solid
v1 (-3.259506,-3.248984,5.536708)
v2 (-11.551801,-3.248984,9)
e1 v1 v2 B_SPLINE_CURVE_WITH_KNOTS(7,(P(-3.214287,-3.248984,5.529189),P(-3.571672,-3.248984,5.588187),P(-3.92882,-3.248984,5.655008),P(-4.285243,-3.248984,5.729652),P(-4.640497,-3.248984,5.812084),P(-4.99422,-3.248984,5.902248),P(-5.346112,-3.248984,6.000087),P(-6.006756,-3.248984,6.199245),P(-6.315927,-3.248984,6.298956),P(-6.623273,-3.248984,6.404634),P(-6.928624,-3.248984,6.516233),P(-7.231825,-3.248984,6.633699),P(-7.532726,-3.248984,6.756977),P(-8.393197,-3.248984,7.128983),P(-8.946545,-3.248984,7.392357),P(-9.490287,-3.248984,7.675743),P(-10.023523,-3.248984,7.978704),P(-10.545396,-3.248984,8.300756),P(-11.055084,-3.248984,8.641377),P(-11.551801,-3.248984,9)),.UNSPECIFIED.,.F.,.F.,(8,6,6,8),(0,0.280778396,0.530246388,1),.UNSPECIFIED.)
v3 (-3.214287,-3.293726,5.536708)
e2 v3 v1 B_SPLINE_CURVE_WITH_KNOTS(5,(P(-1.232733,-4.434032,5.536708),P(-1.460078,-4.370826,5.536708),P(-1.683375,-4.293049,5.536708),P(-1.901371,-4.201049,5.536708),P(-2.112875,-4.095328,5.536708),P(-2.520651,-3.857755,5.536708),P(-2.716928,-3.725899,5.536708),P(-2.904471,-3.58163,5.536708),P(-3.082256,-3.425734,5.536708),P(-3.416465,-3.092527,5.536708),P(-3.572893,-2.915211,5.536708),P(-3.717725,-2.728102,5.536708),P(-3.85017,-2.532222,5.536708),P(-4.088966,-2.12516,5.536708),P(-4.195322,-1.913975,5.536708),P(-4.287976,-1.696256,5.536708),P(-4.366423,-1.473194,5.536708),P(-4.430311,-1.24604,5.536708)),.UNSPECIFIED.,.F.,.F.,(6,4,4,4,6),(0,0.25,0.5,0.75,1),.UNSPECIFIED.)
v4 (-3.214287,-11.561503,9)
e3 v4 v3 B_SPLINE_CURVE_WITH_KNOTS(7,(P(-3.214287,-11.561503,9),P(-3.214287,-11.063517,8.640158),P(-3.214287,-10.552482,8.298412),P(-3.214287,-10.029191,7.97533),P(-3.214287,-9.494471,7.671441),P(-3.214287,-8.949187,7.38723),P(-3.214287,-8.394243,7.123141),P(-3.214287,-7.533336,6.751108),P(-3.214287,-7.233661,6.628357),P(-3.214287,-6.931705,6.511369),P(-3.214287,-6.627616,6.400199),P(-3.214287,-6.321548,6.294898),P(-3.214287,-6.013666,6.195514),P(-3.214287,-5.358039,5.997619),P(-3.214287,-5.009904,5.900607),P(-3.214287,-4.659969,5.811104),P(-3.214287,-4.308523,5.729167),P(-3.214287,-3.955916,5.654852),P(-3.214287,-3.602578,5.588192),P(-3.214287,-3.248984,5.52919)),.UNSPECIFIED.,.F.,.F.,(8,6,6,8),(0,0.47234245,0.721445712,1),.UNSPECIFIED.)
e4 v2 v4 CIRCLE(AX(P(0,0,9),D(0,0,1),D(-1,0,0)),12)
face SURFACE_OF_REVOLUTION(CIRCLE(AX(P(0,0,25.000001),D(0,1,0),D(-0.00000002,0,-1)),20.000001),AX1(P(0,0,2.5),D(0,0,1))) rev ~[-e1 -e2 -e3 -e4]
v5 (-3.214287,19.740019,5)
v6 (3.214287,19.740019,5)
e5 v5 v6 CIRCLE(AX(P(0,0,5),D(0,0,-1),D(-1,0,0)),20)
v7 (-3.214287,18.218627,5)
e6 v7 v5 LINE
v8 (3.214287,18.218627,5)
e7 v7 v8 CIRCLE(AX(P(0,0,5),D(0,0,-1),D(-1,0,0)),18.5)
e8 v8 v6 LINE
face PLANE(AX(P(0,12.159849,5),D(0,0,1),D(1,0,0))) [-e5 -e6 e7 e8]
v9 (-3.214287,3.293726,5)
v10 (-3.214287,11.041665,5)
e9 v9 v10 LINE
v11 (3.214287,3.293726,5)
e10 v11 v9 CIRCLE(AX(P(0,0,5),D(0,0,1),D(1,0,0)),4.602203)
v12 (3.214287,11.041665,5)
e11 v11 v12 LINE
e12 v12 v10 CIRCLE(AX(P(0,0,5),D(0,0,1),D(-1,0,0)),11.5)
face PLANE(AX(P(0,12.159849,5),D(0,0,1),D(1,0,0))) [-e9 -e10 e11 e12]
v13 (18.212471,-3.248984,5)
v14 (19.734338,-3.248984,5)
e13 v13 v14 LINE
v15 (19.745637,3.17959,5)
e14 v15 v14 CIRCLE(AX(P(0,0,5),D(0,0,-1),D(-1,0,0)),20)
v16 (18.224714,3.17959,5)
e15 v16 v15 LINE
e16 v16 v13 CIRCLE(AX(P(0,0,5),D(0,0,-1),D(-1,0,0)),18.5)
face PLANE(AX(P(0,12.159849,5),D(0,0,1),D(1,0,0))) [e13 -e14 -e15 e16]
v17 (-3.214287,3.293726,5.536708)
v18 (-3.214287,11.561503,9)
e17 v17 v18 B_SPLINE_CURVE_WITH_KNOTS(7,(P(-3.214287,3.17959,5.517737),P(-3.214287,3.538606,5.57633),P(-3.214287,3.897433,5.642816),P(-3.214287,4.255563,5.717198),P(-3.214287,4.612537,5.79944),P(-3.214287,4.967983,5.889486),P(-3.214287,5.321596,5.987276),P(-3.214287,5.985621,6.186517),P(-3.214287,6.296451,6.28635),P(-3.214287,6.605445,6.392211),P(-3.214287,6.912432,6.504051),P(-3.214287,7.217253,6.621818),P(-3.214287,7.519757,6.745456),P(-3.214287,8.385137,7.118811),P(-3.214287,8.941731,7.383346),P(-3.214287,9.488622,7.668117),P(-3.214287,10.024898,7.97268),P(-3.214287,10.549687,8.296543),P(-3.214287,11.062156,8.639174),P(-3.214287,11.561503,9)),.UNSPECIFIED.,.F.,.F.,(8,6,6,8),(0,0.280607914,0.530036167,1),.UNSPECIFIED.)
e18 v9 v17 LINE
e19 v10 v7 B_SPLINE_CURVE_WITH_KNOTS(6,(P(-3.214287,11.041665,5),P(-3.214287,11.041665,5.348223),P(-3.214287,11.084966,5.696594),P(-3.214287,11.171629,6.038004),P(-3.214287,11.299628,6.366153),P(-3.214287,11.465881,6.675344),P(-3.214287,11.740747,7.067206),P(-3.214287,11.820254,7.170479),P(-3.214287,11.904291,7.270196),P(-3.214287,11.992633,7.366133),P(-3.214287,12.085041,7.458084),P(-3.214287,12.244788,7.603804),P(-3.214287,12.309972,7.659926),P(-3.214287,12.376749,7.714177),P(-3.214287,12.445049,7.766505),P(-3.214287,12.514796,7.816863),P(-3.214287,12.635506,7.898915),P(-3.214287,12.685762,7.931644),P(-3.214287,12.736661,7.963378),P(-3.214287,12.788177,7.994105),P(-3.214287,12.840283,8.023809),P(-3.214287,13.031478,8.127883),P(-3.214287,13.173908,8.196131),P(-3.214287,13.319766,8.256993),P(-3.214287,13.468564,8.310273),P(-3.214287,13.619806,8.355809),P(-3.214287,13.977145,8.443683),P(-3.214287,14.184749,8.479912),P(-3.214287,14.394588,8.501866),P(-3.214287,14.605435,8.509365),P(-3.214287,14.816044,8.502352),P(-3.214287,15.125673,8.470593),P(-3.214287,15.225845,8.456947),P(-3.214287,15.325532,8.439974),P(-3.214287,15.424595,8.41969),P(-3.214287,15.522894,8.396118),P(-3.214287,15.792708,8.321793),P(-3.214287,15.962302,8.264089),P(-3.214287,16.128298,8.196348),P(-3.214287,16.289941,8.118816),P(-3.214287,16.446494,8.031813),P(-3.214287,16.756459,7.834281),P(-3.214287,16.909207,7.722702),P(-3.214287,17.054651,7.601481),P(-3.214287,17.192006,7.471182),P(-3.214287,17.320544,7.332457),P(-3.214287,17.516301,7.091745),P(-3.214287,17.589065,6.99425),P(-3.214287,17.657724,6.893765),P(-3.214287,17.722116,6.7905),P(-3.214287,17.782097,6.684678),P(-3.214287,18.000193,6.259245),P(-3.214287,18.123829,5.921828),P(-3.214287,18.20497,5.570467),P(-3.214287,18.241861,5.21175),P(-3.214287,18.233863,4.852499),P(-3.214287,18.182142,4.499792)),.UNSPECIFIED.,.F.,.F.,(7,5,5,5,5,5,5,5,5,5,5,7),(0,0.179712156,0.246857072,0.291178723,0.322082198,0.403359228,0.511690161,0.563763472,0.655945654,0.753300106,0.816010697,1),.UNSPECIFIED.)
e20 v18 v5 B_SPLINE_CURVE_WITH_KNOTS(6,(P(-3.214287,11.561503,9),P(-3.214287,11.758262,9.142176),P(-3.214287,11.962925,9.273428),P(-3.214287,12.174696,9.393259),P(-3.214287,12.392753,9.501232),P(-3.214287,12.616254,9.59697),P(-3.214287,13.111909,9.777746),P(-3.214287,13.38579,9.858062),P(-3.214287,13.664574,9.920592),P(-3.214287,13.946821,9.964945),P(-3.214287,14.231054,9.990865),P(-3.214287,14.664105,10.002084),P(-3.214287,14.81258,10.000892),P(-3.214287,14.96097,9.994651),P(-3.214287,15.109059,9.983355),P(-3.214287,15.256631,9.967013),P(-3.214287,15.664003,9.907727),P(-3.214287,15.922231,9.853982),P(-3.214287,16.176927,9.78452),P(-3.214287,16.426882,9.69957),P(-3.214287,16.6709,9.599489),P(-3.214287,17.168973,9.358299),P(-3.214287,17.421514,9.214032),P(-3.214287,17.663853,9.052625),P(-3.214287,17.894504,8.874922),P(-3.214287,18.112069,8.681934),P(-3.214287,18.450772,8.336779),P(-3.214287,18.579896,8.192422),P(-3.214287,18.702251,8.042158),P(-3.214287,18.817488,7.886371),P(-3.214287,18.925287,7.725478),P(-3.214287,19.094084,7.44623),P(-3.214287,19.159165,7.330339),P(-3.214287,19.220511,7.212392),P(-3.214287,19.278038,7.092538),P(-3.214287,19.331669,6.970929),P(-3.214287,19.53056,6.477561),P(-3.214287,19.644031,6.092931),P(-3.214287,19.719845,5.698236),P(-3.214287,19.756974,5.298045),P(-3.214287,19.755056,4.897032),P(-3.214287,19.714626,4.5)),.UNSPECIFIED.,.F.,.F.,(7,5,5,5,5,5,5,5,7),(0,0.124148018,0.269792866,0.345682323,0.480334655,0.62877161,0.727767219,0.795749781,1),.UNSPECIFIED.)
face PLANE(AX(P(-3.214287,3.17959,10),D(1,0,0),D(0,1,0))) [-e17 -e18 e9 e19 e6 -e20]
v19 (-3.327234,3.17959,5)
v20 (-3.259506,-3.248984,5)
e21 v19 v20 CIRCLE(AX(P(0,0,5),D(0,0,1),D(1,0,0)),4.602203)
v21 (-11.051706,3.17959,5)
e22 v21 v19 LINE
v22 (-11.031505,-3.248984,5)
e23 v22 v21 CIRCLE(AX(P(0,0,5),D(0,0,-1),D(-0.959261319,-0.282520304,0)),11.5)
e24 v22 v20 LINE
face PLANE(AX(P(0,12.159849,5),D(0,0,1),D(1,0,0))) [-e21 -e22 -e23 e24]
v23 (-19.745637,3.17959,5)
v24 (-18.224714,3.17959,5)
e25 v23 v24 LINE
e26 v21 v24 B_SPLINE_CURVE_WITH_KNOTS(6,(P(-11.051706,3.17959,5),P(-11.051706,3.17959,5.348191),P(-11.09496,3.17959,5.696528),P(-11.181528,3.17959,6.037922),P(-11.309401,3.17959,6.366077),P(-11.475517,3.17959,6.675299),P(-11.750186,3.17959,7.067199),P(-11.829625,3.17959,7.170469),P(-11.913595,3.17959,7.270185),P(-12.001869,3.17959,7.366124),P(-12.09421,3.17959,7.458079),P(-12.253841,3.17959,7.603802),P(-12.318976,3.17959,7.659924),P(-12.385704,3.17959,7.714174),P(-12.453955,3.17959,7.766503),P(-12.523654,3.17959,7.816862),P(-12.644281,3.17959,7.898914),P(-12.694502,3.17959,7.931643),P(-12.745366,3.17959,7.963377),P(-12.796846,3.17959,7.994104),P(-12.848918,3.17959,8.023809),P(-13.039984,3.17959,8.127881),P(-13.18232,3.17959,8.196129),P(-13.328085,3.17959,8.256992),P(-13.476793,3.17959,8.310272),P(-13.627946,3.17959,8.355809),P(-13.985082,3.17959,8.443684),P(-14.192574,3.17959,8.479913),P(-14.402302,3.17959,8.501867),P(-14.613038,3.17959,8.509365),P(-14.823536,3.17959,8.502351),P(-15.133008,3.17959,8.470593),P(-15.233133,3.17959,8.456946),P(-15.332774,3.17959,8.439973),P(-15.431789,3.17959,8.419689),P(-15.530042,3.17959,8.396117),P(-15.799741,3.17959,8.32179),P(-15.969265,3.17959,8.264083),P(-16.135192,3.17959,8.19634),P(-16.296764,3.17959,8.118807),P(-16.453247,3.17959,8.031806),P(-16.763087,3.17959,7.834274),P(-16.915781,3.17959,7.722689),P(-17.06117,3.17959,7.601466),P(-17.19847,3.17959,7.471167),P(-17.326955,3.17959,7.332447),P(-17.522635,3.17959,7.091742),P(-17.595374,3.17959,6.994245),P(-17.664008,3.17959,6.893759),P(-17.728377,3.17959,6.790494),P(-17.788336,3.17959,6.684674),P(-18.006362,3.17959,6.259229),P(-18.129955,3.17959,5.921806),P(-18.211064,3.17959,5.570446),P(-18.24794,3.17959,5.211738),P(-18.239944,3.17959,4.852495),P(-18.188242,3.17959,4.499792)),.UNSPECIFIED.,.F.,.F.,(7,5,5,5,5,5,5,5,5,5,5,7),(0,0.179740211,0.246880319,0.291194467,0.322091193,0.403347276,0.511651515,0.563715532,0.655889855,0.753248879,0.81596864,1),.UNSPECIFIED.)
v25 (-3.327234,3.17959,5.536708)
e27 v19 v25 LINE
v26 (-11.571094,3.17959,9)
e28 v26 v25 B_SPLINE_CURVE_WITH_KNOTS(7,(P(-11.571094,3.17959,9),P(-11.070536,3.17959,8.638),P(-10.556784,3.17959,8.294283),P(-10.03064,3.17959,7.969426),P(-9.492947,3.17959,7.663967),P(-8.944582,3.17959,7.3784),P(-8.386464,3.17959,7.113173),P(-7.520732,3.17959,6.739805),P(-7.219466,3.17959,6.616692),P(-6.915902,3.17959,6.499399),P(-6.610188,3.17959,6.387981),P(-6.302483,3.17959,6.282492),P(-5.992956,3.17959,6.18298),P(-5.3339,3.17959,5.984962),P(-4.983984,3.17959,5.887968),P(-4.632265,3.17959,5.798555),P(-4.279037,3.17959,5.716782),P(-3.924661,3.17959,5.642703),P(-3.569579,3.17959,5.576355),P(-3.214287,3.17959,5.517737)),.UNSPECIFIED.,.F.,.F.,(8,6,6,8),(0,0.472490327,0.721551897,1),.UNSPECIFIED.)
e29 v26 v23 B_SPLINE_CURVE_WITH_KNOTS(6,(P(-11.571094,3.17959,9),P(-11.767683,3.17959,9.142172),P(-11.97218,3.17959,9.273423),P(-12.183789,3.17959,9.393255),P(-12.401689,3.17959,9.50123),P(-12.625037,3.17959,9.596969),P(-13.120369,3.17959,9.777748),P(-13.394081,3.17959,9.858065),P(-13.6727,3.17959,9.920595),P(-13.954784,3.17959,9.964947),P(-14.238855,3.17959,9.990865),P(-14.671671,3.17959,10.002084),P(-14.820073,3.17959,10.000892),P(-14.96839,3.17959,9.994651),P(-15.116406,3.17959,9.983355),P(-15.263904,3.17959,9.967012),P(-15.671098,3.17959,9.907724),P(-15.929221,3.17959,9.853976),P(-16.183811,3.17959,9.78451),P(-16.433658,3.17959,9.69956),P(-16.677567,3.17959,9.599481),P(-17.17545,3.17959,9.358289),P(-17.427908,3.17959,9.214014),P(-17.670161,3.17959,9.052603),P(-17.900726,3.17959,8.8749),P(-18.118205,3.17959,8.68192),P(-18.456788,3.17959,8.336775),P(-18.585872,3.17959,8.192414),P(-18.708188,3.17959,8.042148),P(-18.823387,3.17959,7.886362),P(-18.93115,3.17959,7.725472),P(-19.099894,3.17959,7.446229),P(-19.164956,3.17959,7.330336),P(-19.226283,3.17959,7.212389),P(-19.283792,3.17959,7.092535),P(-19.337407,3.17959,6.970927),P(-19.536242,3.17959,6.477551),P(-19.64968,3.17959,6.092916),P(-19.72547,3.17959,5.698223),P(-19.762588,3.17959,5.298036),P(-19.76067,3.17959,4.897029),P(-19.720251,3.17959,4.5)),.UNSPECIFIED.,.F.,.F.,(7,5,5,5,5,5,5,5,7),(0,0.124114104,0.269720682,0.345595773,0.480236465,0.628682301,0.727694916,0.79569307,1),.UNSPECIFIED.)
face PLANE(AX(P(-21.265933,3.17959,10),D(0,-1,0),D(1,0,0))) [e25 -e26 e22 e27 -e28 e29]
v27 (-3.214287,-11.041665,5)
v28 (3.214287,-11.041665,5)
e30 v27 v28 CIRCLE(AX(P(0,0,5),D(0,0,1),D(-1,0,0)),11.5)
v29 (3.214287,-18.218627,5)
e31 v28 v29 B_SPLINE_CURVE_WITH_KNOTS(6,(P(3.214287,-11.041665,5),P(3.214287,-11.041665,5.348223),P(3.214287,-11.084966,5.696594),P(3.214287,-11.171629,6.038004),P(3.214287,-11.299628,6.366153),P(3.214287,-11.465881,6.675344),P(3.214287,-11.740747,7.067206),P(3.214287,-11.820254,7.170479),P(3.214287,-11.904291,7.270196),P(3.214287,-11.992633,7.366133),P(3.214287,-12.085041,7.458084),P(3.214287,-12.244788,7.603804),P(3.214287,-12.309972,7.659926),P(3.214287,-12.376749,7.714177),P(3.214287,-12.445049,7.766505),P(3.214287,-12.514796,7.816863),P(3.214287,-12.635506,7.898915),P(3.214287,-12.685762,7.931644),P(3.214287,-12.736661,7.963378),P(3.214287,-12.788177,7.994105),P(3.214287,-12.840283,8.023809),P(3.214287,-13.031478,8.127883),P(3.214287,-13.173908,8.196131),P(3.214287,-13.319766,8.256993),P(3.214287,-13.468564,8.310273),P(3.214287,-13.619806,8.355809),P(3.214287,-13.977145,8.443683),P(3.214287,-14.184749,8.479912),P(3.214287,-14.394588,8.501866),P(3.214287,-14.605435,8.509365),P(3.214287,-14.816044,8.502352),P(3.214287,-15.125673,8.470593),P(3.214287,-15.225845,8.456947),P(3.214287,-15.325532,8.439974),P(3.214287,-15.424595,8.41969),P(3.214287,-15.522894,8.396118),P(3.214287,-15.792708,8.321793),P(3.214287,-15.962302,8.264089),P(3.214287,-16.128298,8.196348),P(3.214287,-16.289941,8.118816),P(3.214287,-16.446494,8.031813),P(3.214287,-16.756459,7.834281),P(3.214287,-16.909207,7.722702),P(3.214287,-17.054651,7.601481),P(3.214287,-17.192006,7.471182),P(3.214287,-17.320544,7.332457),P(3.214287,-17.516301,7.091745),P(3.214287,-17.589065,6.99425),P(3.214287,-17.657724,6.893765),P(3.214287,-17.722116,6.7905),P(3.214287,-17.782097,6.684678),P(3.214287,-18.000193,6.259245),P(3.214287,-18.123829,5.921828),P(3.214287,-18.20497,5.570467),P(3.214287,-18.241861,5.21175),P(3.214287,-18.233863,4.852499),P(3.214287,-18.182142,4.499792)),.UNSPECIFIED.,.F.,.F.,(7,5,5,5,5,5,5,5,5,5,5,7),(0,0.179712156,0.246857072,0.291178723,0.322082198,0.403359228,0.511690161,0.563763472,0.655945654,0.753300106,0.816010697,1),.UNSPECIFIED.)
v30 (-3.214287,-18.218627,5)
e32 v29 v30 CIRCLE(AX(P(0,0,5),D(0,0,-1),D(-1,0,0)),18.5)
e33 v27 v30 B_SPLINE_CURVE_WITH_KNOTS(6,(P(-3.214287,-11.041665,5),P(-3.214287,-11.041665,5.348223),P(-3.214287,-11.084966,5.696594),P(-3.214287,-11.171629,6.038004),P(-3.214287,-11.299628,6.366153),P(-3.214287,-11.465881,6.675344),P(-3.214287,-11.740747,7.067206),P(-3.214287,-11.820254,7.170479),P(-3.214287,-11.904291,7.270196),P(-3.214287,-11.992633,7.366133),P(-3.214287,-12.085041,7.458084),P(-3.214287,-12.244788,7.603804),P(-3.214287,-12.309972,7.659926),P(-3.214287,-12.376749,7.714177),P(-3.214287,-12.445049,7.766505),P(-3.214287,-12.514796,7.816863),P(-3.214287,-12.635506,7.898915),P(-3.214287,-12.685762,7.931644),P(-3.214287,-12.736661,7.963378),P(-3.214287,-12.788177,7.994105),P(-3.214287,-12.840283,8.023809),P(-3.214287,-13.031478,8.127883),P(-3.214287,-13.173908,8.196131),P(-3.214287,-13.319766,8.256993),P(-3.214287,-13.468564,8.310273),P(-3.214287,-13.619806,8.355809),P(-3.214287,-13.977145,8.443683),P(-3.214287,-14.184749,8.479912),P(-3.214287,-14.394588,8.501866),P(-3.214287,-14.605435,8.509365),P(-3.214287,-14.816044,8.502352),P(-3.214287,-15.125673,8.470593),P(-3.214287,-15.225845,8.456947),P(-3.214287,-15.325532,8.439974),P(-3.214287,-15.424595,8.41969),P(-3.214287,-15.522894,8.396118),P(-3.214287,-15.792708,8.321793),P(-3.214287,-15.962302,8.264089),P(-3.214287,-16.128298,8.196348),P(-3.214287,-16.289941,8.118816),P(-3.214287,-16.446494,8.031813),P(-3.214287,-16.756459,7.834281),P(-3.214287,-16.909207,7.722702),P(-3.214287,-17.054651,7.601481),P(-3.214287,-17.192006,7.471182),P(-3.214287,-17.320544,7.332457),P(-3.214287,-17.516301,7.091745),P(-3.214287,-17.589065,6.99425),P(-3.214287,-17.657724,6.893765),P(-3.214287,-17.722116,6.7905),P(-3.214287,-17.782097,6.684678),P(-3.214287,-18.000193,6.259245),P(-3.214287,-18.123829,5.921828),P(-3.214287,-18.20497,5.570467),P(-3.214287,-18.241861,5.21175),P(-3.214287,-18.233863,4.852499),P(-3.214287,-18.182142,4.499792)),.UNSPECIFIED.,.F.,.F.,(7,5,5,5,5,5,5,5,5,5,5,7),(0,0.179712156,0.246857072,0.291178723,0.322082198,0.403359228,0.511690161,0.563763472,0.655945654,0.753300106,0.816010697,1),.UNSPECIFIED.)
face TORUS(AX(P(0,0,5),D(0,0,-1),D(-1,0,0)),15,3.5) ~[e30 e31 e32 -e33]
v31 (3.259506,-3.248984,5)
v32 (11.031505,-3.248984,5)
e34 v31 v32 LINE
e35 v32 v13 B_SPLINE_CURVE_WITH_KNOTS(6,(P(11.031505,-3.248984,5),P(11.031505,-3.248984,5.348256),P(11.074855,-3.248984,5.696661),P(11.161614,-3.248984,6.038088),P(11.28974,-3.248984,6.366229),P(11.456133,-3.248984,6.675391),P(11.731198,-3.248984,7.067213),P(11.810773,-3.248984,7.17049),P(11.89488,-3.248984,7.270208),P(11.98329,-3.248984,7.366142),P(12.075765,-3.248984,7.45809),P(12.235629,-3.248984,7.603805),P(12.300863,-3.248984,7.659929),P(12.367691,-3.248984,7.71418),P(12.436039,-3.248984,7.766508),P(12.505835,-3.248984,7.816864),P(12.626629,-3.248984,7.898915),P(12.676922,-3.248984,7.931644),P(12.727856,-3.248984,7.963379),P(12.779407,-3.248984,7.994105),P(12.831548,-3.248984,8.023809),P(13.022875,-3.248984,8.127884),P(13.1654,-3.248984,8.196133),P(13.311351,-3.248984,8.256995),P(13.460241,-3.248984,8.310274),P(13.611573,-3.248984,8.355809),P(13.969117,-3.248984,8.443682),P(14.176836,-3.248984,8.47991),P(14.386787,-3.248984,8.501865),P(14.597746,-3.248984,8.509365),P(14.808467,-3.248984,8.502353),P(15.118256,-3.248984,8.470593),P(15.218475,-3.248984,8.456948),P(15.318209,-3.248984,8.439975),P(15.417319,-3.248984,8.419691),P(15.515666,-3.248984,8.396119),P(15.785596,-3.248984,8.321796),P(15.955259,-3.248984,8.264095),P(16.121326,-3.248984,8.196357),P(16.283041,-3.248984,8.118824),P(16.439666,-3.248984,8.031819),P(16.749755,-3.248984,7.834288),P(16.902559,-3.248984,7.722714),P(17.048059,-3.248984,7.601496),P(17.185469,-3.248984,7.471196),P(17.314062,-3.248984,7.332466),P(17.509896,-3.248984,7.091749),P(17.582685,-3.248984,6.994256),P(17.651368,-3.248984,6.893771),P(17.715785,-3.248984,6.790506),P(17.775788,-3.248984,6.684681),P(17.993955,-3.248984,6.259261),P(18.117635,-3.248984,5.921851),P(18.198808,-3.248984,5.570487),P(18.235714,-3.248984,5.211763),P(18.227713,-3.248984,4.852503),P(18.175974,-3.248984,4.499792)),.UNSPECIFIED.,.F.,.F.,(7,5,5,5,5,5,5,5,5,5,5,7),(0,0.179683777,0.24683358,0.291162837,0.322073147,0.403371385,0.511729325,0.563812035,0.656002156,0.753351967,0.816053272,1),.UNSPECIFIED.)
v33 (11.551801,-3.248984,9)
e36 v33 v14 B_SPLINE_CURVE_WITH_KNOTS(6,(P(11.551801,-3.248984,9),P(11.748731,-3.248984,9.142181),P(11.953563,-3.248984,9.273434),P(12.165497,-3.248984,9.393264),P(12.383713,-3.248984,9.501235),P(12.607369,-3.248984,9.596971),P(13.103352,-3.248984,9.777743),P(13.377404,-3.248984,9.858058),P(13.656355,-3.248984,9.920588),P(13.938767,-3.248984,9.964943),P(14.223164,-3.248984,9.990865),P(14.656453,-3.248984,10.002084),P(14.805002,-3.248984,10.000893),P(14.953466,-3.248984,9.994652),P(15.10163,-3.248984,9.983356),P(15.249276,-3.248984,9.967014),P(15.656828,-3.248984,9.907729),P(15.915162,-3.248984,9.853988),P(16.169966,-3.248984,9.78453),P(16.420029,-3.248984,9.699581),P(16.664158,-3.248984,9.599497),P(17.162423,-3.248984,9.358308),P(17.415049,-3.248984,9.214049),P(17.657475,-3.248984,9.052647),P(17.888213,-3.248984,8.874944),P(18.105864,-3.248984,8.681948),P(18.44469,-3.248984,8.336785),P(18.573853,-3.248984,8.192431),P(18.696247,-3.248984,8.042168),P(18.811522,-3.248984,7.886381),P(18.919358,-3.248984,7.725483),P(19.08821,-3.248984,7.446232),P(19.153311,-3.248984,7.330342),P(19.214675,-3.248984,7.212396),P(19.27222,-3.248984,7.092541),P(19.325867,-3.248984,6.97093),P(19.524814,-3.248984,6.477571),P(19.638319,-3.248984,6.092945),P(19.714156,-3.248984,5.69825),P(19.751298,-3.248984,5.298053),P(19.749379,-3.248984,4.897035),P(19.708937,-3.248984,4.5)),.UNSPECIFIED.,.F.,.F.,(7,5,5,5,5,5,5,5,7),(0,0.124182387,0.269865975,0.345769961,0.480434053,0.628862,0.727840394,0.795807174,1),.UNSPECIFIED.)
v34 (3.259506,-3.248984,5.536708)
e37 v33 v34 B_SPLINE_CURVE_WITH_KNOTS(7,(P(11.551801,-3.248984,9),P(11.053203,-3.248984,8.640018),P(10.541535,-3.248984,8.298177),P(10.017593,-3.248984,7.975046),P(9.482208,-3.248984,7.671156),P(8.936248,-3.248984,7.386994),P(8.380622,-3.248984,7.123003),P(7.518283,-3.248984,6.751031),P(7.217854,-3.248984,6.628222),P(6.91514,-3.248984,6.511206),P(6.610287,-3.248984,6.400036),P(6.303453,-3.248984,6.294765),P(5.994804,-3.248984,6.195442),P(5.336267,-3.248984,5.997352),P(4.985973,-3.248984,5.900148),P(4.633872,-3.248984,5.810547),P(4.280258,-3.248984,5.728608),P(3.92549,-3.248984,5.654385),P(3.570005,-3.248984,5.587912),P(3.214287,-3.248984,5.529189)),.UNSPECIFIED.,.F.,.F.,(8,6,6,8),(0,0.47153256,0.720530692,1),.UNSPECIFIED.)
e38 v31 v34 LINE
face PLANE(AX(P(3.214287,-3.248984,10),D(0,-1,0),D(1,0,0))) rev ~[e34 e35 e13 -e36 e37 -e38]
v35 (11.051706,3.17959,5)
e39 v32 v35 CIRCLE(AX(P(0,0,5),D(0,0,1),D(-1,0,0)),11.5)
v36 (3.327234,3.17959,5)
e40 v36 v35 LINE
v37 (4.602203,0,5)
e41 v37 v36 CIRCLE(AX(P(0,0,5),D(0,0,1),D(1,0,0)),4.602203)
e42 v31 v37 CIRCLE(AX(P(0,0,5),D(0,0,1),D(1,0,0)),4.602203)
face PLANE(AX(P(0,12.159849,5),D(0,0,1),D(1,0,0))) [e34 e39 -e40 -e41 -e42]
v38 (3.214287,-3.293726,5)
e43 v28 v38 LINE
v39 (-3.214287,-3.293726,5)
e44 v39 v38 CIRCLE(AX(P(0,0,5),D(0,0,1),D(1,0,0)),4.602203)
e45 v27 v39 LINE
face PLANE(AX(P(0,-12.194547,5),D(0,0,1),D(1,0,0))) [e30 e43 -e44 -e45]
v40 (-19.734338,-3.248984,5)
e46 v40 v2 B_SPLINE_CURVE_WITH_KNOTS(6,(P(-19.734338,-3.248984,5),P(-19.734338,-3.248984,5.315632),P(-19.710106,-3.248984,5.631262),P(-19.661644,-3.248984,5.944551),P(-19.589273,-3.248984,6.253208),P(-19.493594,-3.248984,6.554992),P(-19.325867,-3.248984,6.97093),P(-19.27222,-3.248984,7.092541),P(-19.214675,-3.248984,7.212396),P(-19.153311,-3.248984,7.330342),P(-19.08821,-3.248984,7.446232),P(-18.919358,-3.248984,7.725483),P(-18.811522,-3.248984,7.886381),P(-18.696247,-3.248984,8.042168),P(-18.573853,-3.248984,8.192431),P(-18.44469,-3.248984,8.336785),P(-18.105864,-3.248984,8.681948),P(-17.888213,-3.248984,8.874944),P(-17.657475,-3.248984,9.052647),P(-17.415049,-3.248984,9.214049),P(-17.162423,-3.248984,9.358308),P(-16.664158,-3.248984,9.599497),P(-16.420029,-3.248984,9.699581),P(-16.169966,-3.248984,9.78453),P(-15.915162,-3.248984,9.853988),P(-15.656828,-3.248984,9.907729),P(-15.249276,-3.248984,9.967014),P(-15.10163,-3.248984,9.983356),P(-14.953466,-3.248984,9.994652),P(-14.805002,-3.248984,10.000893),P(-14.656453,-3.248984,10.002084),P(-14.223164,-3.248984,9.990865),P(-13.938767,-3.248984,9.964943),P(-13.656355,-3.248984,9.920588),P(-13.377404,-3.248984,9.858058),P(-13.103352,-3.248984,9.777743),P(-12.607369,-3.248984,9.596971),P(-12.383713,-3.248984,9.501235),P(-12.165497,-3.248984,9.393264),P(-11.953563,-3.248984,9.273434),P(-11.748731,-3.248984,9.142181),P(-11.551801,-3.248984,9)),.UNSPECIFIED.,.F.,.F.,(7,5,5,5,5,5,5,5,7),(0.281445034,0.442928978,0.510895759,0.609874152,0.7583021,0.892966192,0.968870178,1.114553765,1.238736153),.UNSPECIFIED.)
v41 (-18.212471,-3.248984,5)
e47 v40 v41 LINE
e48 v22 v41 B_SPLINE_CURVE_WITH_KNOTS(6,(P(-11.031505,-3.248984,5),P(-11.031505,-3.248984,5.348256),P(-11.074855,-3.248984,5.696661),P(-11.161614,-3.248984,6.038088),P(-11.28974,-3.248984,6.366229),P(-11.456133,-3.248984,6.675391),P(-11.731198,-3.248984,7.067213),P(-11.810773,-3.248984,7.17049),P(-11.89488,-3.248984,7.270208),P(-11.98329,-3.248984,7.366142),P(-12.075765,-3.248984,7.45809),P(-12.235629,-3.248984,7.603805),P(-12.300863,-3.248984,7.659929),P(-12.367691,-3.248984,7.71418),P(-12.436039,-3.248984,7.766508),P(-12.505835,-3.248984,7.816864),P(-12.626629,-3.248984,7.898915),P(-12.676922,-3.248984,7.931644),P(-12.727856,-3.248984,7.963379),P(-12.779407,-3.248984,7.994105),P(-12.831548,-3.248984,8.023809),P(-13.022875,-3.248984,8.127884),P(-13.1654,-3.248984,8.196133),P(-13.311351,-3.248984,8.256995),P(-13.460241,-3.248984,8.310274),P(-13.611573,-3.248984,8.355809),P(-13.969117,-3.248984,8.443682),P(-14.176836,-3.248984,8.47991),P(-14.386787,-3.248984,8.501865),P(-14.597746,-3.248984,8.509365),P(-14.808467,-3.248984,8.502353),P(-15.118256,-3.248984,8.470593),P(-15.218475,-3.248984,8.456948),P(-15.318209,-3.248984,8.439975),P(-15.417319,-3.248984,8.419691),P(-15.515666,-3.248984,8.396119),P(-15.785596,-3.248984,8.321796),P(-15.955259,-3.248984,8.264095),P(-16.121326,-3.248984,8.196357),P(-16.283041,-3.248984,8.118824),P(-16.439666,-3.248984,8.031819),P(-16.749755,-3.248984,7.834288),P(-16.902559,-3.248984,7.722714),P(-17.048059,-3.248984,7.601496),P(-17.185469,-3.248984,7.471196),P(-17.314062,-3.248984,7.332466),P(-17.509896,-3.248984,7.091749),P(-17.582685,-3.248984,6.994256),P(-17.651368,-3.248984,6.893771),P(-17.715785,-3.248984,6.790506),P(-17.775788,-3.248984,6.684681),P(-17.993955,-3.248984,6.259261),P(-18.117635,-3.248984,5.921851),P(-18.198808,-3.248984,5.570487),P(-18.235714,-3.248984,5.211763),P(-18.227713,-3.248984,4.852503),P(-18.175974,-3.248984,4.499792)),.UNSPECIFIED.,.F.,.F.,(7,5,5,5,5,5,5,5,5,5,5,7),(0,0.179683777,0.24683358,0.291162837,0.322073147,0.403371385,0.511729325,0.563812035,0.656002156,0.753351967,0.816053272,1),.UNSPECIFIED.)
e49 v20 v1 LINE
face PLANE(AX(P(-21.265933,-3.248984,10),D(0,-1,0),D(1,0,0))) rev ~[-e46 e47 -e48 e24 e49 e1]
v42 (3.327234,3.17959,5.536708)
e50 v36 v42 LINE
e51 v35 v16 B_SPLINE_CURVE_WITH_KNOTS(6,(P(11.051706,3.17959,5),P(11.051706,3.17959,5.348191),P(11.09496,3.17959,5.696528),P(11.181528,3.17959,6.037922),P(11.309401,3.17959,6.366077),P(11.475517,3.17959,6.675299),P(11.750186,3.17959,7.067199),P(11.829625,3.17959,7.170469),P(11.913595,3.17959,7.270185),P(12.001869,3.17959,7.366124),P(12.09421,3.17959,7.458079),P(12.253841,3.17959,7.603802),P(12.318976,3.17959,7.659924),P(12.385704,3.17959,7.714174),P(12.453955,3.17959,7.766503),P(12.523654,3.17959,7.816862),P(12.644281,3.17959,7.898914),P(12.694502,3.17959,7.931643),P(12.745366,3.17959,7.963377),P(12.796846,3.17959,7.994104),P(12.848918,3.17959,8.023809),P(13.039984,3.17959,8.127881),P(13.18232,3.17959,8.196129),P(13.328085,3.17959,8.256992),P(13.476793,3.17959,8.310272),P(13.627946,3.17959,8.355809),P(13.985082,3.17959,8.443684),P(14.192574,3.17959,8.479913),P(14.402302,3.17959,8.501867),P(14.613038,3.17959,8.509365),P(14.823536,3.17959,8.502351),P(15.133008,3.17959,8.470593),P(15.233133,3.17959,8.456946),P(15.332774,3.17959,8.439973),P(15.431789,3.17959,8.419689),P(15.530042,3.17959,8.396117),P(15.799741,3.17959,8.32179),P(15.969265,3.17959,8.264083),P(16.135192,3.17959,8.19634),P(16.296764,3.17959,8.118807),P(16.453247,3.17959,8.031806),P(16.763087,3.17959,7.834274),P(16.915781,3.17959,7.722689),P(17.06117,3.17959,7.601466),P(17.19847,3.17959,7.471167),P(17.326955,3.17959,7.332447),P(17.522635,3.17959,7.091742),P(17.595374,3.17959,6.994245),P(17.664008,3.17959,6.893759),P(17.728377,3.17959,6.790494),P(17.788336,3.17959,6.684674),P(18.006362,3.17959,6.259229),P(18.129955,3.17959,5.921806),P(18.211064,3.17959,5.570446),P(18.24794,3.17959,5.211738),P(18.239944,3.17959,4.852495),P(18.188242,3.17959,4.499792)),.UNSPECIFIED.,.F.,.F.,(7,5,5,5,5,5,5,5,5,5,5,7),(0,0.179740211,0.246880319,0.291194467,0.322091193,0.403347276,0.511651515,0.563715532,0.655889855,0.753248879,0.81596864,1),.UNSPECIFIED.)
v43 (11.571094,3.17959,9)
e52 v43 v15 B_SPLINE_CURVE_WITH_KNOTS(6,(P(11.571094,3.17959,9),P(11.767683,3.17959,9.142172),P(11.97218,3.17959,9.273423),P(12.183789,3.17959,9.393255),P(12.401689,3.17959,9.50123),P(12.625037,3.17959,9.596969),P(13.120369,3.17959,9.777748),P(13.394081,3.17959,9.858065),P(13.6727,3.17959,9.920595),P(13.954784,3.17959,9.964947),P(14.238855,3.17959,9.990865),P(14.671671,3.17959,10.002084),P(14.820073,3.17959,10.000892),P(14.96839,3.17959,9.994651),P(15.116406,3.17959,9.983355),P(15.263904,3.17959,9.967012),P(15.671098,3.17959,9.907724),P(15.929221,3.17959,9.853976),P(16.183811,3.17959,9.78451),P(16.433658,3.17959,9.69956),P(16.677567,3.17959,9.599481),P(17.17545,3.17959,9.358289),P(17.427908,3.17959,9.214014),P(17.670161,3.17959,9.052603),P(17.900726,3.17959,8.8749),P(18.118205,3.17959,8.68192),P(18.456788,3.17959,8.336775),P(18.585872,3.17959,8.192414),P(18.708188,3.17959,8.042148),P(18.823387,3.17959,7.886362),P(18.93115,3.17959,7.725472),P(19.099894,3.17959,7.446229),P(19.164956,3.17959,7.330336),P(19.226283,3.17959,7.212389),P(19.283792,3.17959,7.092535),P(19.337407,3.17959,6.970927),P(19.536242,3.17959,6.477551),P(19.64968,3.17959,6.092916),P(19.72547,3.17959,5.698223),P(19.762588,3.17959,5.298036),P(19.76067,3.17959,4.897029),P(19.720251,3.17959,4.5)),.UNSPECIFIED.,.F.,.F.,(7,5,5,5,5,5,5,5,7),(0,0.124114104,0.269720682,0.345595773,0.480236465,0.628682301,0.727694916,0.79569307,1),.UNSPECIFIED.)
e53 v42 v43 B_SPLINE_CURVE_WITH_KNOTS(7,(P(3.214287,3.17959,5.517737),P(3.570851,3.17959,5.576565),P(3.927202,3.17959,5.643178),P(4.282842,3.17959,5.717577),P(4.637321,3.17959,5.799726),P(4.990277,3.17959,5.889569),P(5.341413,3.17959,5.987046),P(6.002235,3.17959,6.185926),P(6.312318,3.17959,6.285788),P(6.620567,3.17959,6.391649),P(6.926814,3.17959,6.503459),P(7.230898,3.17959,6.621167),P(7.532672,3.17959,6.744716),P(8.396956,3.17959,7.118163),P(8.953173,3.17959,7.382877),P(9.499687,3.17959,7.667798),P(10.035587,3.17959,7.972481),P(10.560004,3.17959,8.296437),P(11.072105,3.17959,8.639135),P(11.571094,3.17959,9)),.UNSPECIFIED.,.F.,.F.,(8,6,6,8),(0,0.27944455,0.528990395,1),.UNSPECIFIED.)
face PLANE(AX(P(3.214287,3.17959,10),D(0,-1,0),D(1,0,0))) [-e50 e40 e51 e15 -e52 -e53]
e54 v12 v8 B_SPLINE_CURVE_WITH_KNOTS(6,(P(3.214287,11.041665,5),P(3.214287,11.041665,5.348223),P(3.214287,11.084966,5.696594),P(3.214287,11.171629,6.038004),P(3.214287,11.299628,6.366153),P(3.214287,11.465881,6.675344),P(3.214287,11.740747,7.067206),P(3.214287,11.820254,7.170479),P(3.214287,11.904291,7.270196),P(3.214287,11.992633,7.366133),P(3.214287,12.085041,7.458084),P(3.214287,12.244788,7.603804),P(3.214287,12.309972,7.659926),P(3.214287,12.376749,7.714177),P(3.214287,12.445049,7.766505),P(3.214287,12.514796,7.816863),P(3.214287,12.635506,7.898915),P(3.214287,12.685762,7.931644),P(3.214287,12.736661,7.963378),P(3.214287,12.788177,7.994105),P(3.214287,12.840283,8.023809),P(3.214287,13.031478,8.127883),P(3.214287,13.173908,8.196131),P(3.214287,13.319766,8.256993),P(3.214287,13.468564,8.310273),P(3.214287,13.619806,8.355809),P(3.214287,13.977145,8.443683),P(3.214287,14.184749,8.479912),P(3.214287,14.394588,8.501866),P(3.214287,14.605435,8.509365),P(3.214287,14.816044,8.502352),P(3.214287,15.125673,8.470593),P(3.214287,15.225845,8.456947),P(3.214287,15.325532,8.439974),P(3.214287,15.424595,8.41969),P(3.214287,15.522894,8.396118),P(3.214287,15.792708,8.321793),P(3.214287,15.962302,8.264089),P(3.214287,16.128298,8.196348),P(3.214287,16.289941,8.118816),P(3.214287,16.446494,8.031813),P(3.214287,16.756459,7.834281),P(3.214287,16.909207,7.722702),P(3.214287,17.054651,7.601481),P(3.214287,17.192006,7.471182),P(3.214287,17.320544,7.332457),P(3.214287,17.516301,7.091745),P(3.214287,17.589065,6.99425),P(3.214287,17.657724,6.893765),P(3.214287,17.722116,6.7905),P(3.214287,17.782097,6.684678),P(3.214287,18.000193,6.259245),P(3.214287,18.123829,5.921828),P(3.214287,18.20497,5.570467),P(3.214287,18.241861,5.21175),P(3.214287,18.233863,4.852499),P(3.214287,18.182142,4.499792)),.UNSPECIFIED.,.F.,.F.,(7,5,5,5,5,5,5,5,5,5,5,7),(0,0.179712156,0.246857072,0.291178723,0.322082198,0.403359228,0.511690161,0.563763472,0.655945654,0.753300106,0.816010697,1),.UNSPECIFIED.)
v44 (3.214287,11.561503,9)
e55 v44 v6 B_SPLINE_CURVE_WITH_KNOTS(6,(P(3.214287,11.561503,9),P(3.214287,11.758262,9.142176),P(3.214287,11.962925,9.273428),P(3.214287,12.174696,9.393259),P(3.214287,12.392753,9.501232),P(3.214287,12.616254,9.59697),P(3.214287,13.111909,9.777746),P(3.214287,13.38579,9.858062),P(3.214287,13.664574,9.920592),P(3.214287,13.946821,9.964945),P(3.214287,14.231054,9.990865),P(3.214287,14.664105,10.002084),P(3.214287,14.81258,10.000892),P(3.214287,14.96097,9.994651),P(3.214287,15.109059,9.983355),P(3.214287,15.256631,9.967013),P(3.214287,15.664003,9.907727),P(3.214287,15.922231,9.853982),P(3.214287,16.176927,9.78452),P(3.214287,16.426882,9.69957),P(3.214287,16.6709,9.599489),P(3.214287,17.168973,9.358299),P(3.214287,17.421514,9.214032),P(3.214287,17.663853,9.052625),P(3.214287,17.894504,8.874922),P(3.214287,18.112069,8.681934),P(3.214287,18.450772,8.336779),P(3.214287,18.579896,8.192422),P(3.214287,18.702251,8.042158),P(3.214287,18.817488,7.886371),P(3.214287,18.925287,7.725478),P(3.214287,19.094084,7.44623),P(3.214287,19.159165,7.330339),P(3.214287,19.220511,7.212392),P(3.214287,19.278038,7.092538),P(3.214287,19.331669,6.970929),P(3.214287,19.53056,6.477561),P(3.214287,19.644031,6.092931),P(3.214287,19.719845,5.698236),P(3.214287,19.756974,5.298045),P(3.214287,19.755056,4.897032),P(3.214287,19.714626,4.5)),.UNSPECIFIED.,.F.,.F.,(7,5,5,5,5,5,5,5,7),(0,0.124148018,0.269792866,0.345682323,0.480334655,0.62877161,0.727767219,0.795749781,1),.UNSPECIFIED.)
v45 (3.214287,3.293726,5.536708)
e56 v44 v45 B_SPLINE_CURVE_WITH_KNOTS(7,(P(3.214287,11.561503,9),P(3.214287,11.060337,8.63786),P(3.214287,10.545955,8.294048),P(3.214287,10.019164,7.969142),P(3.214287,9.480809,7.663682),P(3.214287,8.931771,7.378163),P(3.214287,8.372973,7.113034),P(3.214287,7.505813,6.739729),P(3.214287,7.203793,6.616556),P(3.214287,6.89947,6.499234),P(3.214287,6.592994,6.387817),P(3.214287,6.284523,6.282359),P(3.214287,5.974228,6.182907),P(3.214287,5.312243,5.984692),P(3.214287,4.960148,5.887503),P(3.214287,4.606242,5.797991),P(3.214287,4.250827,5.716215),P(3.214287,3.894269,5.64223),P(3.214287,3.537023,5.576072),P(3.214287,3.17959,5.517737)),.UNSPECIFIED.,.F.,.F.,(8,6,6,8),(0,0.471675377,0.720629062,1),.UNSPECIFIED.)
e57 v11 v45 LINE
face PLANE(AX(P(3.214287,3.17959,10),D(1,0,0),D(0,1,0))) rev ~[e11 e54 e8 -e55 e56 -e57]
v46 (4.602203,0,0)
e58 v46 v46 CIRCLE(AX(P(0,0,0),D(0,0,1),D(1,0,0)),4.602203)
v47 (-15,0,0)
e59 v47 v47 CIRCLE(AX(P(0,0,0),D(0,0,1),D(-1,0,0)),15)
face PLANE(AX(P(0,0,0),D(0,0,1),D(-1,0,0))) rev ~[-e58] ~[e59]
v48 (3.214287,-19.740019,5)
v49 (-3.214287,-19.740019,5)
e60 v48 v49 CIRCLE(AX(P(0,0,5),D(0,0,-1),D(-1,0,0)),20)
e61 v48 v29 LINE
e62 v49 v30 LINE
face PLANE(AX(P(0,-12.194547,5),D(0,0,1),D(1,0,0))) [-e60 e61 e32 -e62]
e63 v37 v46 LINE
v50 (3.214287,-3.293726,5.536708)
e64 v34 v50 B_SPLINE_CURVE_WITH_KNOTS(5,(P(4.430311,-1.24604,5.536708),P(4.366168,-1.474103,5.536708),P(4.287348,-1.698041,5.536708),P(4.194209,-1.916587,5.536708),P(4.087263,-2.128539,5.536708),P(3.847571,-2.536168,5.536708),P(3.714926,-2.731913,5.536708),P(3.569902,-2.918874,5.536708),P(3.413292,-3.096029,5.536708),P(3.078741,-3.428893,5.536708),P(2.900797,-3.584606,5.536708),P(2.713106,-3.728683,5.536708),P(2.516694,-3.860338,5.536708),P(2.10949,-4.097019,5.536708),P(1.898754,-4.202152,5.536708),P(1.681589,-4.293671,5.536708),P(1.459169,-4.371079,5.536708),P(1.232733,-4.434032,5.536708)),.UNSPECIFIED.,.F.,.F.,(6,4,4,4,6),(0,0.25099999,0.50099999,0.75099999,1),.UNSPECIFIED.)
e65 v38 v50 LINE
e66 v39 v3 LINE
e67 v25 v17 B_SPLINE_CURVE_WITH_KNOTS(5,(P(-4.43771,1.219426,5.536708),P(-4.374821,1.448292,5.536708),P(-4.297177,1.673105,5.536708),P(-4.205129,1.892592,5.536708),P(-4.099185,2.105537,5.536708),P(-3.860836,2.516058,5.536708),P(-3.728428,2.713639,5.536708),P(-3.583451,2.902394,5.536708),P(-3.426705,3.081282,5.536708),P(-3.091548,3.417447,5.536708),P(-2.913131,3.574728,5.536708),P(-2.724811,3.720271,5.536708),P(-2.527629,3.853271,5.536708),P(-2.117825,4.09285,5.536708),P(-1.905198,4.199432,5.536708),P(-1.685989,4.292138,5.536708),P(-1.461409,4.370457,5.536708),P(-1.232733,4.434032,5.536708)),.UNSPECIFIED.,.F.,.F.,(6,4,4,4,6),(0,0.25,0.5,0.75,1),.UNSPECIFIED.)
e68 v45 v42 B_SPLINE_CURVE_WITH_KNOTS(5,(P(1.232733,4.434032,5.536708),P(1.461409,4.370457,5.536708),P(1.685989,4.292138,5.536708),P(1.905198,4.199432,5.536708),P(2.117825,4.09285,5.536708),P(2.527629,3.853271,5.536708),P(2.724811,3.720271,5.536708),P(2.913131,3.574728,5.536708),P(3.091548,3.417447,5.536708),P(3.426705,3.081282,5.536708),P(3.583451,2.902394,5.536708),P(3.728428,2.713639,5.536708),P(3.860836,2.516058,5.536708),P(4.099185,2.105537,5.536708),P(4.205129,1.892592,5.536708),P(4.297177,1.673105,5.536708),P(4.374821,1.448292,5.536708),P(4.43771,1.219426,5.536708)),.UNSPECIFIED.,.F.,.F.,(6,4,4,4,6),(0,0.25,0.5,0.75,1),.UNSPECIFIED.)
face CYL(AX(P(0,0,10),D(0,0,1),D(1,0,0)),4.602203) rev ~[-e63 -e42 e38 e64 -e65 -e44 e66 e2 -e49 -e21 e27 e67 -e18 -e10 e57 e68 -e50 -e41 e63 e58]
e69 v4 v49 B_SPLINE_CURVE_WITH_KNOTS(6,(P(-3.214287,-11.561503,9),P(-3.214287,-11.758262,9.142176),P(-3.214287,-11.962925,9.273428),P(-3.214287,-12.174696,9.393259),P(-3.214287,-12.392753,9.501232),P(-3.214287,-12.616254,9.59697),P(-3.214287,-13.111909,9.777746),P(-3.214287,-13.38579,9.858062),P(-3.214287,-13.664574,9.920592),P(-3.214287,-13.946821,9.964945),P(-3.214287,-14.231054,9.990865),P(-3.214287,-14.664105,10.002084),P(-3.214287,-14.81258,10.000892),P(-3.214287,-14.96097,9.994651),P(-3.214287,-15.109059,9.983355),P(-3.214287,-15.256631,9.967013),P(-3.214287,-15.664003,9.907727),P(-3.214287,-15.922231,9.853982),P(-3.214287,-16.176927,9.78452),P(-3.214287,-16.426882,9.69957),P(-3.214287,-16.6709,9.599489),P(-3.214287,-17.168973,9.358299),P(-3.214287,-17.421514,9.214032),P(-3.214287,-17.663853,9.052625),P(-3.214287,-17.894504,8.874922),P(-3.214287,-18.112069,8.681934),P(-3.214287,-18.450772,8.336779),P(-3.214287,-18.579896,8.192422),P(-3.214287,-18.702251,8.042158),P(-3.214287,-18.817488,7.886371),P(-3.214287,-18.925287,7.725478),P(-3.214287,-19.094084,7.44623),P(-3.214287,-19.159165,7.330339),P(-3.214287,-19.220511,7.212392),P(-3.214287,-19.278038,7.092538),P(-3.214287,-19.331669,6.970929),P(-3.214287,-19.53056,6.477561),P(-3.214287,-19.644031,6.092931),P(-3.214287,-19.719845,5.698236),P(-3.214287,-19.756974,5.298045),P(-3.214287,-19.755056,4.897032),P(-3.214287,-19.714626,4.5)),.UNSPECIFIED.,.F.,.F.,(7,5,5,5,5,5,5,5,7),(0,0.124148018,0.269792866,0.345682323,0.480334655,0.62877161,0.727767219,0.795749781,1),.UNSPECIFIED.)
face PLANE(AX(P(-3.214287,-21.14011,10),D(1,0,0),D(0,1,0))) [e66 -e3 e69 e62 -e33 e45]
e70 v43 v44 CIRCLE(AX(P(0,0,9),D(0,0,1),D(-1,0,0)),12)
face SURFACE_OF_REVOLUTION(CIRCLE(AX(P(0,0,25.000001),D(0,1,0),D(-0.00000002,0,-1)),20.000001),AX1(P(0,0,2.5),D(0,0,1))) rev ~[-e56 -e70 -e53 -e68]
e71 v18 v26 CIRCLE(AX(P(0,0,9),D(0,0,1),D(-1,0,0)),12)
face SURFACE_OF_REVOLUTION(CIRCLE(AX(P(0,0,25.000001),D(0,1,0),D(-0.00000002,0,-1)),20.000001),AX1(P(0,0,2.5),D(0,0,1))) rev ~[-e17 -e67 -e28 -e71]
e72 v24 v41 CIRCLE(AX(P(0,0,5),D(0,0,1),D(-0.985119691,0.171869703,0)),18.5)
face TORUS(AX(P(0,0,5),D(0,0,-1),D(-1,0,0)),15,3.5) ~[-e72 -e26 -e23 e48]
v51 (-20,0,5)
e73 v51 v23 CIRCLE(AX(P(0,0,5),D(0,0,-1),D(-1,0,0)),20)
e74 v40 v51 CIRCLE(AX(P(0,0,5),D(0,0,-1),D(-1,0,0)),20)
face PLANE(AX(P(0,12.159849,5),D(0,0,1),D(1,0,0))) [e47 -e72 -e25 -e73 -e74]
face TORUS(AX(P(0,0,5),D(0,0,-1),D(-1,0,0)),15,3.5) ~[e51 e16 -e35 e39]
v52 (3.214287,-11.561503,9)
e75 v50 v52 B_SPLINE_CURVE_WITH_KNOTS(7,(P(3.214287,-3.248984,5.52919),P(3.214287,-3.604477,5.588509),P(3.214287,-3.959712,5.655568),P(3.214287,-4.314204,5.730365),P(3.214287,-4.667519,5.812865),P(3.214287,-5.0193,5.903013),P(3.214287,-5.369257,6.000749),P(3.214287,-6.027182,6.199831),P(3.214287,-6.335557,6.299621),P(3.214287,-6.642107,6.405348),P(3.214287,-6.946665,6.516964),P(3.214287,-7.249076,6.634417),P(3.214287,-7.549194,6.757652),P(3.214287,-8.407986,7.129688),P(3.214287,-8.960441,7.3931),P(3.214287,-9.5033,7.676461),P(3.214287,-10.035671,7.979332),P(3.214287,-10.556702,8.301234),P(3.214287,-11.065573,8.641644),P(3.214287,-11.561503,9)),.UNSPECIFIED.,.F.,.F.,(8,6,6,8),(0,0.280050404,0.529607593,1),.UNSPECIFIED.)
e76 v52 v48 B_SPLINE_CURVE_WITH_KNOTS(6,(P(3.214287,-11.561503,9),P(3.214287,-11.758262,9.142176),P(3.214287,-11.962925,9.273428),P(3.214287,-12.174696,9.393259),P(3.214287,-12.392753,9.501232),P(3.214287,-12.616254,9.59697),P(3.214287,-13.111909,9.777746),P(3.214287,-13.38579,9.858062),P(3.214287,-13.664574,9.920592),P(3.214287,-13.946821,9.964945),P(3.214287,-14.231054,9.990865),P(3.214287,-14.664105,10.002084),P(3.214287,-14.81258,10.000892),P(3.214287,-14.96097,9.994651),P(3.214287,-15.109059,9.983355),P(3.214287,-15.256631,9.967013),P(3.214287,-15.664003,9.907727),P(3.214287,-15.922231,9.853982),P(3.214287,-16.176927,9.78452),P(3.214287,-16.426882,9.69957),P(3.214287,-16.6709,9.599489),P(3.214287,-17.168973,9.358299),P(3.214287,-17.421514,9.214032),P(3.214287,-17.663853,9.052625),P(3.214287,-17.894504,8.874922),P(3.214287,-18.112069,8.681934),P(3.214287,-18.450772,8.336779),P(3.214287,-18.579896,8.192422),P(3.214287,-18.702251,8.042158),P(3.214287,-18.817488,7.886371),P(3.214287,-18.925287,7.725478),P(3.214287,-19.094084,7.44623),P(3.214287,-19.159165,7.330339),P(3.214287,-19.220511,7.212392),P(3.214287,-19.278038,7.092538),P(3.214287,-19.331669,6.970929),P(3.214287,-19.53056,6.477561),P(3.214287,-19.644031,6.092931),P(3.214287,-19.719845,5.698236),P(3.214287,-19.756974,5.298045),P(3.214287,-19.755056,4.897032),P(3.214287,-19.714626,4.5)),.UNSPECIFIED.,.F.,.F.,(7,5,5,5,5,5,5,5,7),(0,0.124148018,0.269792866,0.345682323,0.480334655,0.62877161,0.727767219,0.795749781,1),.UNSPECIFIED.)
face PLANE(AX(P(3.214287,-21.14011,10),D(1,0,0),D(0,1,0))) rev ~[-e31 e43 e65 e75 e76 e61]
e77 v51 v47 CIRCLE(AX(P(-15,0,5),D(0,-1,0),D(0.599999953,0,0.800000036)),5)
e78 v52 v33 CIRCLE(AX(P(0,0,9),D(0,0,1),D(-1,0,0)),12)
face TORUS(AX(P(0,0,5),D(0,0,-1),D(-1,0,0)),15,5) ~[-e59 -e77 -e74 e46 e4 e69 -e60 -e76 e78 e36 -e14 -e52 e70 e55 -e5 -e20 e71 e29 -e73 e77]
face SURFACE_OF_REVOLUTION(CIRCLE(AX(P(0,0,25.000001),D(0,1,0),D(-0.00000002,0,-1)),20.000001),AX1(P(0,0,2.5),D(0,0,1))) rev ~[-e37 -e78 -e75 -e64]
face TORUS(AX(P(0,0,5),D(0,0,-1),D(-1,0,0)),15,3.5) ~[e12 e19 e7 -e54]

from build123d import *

# Parameters (mm, degrees)
F3_W     = 6.428574
F3_H     = 17.960521
F3_W_2   = 17.799999
F3_H_2   = 6.428573
F3_W_3   = 18.051646
F3_H_3   = 17.891126
F4_DEPTH = 5
F5_R     = 3.5
F7_R     = 4.602203
F8_DEPTH = 25


with BuildPart() as f1:
    # F0 (on Front) → F1 (revolve)
    with BuildSketch(Plane.XZ):
        with BuildLine():
            ThreePointArc((0, 5), (-6.324555, 6.026334), (-12, 9))
            ThreePointArc((-12, 9), (-19.743416, 6.581139), (-15, 0))
            Line((-15, 0), (0, 0))
            Line((0, 0), (0, 5))
        make_face()
    revolve(axis=Axis((0, 0, 2.5), (0, 0, 1)))

    # F3 (on offset) → F4 (cut)
    with BuildSketch(Plane.XY.offset(10)):
        with Locations((0, 12.159849)):
            Rectangle(F3_W, F3_H)
        with Locations((12.114286, -0.034697)):
            Rectangle(F3_W_2, F3_H_2)
        with Locations((-12.24011, -0.034697)):
            Rectangle(F3_W_3, F3_H_2)
        with Locations((0, -12.194547)):
            Rectangle(F3_W, F3_H_3)
    extrude(amount=-F4_DEPTH, mode=Mode.SUBTRACT)

    # F5 (on Front) → F6 (revolve)
    with BuildSketch(Plane.XZ):
        with Locations((-15, 5)):
            Circle(F5_R)
    revolve(axis=Axis((0, 0, 2.5), (0, 0, 1)))

    # F7 (on offset) → F8 (cut)
    with BuildSketch(Plane.XY.offset(10)):
        Circle(F7_R)
    extrude(amount=-F8_DEPTH, mode=Mode.SUBTRACT)


solid = f1.part
